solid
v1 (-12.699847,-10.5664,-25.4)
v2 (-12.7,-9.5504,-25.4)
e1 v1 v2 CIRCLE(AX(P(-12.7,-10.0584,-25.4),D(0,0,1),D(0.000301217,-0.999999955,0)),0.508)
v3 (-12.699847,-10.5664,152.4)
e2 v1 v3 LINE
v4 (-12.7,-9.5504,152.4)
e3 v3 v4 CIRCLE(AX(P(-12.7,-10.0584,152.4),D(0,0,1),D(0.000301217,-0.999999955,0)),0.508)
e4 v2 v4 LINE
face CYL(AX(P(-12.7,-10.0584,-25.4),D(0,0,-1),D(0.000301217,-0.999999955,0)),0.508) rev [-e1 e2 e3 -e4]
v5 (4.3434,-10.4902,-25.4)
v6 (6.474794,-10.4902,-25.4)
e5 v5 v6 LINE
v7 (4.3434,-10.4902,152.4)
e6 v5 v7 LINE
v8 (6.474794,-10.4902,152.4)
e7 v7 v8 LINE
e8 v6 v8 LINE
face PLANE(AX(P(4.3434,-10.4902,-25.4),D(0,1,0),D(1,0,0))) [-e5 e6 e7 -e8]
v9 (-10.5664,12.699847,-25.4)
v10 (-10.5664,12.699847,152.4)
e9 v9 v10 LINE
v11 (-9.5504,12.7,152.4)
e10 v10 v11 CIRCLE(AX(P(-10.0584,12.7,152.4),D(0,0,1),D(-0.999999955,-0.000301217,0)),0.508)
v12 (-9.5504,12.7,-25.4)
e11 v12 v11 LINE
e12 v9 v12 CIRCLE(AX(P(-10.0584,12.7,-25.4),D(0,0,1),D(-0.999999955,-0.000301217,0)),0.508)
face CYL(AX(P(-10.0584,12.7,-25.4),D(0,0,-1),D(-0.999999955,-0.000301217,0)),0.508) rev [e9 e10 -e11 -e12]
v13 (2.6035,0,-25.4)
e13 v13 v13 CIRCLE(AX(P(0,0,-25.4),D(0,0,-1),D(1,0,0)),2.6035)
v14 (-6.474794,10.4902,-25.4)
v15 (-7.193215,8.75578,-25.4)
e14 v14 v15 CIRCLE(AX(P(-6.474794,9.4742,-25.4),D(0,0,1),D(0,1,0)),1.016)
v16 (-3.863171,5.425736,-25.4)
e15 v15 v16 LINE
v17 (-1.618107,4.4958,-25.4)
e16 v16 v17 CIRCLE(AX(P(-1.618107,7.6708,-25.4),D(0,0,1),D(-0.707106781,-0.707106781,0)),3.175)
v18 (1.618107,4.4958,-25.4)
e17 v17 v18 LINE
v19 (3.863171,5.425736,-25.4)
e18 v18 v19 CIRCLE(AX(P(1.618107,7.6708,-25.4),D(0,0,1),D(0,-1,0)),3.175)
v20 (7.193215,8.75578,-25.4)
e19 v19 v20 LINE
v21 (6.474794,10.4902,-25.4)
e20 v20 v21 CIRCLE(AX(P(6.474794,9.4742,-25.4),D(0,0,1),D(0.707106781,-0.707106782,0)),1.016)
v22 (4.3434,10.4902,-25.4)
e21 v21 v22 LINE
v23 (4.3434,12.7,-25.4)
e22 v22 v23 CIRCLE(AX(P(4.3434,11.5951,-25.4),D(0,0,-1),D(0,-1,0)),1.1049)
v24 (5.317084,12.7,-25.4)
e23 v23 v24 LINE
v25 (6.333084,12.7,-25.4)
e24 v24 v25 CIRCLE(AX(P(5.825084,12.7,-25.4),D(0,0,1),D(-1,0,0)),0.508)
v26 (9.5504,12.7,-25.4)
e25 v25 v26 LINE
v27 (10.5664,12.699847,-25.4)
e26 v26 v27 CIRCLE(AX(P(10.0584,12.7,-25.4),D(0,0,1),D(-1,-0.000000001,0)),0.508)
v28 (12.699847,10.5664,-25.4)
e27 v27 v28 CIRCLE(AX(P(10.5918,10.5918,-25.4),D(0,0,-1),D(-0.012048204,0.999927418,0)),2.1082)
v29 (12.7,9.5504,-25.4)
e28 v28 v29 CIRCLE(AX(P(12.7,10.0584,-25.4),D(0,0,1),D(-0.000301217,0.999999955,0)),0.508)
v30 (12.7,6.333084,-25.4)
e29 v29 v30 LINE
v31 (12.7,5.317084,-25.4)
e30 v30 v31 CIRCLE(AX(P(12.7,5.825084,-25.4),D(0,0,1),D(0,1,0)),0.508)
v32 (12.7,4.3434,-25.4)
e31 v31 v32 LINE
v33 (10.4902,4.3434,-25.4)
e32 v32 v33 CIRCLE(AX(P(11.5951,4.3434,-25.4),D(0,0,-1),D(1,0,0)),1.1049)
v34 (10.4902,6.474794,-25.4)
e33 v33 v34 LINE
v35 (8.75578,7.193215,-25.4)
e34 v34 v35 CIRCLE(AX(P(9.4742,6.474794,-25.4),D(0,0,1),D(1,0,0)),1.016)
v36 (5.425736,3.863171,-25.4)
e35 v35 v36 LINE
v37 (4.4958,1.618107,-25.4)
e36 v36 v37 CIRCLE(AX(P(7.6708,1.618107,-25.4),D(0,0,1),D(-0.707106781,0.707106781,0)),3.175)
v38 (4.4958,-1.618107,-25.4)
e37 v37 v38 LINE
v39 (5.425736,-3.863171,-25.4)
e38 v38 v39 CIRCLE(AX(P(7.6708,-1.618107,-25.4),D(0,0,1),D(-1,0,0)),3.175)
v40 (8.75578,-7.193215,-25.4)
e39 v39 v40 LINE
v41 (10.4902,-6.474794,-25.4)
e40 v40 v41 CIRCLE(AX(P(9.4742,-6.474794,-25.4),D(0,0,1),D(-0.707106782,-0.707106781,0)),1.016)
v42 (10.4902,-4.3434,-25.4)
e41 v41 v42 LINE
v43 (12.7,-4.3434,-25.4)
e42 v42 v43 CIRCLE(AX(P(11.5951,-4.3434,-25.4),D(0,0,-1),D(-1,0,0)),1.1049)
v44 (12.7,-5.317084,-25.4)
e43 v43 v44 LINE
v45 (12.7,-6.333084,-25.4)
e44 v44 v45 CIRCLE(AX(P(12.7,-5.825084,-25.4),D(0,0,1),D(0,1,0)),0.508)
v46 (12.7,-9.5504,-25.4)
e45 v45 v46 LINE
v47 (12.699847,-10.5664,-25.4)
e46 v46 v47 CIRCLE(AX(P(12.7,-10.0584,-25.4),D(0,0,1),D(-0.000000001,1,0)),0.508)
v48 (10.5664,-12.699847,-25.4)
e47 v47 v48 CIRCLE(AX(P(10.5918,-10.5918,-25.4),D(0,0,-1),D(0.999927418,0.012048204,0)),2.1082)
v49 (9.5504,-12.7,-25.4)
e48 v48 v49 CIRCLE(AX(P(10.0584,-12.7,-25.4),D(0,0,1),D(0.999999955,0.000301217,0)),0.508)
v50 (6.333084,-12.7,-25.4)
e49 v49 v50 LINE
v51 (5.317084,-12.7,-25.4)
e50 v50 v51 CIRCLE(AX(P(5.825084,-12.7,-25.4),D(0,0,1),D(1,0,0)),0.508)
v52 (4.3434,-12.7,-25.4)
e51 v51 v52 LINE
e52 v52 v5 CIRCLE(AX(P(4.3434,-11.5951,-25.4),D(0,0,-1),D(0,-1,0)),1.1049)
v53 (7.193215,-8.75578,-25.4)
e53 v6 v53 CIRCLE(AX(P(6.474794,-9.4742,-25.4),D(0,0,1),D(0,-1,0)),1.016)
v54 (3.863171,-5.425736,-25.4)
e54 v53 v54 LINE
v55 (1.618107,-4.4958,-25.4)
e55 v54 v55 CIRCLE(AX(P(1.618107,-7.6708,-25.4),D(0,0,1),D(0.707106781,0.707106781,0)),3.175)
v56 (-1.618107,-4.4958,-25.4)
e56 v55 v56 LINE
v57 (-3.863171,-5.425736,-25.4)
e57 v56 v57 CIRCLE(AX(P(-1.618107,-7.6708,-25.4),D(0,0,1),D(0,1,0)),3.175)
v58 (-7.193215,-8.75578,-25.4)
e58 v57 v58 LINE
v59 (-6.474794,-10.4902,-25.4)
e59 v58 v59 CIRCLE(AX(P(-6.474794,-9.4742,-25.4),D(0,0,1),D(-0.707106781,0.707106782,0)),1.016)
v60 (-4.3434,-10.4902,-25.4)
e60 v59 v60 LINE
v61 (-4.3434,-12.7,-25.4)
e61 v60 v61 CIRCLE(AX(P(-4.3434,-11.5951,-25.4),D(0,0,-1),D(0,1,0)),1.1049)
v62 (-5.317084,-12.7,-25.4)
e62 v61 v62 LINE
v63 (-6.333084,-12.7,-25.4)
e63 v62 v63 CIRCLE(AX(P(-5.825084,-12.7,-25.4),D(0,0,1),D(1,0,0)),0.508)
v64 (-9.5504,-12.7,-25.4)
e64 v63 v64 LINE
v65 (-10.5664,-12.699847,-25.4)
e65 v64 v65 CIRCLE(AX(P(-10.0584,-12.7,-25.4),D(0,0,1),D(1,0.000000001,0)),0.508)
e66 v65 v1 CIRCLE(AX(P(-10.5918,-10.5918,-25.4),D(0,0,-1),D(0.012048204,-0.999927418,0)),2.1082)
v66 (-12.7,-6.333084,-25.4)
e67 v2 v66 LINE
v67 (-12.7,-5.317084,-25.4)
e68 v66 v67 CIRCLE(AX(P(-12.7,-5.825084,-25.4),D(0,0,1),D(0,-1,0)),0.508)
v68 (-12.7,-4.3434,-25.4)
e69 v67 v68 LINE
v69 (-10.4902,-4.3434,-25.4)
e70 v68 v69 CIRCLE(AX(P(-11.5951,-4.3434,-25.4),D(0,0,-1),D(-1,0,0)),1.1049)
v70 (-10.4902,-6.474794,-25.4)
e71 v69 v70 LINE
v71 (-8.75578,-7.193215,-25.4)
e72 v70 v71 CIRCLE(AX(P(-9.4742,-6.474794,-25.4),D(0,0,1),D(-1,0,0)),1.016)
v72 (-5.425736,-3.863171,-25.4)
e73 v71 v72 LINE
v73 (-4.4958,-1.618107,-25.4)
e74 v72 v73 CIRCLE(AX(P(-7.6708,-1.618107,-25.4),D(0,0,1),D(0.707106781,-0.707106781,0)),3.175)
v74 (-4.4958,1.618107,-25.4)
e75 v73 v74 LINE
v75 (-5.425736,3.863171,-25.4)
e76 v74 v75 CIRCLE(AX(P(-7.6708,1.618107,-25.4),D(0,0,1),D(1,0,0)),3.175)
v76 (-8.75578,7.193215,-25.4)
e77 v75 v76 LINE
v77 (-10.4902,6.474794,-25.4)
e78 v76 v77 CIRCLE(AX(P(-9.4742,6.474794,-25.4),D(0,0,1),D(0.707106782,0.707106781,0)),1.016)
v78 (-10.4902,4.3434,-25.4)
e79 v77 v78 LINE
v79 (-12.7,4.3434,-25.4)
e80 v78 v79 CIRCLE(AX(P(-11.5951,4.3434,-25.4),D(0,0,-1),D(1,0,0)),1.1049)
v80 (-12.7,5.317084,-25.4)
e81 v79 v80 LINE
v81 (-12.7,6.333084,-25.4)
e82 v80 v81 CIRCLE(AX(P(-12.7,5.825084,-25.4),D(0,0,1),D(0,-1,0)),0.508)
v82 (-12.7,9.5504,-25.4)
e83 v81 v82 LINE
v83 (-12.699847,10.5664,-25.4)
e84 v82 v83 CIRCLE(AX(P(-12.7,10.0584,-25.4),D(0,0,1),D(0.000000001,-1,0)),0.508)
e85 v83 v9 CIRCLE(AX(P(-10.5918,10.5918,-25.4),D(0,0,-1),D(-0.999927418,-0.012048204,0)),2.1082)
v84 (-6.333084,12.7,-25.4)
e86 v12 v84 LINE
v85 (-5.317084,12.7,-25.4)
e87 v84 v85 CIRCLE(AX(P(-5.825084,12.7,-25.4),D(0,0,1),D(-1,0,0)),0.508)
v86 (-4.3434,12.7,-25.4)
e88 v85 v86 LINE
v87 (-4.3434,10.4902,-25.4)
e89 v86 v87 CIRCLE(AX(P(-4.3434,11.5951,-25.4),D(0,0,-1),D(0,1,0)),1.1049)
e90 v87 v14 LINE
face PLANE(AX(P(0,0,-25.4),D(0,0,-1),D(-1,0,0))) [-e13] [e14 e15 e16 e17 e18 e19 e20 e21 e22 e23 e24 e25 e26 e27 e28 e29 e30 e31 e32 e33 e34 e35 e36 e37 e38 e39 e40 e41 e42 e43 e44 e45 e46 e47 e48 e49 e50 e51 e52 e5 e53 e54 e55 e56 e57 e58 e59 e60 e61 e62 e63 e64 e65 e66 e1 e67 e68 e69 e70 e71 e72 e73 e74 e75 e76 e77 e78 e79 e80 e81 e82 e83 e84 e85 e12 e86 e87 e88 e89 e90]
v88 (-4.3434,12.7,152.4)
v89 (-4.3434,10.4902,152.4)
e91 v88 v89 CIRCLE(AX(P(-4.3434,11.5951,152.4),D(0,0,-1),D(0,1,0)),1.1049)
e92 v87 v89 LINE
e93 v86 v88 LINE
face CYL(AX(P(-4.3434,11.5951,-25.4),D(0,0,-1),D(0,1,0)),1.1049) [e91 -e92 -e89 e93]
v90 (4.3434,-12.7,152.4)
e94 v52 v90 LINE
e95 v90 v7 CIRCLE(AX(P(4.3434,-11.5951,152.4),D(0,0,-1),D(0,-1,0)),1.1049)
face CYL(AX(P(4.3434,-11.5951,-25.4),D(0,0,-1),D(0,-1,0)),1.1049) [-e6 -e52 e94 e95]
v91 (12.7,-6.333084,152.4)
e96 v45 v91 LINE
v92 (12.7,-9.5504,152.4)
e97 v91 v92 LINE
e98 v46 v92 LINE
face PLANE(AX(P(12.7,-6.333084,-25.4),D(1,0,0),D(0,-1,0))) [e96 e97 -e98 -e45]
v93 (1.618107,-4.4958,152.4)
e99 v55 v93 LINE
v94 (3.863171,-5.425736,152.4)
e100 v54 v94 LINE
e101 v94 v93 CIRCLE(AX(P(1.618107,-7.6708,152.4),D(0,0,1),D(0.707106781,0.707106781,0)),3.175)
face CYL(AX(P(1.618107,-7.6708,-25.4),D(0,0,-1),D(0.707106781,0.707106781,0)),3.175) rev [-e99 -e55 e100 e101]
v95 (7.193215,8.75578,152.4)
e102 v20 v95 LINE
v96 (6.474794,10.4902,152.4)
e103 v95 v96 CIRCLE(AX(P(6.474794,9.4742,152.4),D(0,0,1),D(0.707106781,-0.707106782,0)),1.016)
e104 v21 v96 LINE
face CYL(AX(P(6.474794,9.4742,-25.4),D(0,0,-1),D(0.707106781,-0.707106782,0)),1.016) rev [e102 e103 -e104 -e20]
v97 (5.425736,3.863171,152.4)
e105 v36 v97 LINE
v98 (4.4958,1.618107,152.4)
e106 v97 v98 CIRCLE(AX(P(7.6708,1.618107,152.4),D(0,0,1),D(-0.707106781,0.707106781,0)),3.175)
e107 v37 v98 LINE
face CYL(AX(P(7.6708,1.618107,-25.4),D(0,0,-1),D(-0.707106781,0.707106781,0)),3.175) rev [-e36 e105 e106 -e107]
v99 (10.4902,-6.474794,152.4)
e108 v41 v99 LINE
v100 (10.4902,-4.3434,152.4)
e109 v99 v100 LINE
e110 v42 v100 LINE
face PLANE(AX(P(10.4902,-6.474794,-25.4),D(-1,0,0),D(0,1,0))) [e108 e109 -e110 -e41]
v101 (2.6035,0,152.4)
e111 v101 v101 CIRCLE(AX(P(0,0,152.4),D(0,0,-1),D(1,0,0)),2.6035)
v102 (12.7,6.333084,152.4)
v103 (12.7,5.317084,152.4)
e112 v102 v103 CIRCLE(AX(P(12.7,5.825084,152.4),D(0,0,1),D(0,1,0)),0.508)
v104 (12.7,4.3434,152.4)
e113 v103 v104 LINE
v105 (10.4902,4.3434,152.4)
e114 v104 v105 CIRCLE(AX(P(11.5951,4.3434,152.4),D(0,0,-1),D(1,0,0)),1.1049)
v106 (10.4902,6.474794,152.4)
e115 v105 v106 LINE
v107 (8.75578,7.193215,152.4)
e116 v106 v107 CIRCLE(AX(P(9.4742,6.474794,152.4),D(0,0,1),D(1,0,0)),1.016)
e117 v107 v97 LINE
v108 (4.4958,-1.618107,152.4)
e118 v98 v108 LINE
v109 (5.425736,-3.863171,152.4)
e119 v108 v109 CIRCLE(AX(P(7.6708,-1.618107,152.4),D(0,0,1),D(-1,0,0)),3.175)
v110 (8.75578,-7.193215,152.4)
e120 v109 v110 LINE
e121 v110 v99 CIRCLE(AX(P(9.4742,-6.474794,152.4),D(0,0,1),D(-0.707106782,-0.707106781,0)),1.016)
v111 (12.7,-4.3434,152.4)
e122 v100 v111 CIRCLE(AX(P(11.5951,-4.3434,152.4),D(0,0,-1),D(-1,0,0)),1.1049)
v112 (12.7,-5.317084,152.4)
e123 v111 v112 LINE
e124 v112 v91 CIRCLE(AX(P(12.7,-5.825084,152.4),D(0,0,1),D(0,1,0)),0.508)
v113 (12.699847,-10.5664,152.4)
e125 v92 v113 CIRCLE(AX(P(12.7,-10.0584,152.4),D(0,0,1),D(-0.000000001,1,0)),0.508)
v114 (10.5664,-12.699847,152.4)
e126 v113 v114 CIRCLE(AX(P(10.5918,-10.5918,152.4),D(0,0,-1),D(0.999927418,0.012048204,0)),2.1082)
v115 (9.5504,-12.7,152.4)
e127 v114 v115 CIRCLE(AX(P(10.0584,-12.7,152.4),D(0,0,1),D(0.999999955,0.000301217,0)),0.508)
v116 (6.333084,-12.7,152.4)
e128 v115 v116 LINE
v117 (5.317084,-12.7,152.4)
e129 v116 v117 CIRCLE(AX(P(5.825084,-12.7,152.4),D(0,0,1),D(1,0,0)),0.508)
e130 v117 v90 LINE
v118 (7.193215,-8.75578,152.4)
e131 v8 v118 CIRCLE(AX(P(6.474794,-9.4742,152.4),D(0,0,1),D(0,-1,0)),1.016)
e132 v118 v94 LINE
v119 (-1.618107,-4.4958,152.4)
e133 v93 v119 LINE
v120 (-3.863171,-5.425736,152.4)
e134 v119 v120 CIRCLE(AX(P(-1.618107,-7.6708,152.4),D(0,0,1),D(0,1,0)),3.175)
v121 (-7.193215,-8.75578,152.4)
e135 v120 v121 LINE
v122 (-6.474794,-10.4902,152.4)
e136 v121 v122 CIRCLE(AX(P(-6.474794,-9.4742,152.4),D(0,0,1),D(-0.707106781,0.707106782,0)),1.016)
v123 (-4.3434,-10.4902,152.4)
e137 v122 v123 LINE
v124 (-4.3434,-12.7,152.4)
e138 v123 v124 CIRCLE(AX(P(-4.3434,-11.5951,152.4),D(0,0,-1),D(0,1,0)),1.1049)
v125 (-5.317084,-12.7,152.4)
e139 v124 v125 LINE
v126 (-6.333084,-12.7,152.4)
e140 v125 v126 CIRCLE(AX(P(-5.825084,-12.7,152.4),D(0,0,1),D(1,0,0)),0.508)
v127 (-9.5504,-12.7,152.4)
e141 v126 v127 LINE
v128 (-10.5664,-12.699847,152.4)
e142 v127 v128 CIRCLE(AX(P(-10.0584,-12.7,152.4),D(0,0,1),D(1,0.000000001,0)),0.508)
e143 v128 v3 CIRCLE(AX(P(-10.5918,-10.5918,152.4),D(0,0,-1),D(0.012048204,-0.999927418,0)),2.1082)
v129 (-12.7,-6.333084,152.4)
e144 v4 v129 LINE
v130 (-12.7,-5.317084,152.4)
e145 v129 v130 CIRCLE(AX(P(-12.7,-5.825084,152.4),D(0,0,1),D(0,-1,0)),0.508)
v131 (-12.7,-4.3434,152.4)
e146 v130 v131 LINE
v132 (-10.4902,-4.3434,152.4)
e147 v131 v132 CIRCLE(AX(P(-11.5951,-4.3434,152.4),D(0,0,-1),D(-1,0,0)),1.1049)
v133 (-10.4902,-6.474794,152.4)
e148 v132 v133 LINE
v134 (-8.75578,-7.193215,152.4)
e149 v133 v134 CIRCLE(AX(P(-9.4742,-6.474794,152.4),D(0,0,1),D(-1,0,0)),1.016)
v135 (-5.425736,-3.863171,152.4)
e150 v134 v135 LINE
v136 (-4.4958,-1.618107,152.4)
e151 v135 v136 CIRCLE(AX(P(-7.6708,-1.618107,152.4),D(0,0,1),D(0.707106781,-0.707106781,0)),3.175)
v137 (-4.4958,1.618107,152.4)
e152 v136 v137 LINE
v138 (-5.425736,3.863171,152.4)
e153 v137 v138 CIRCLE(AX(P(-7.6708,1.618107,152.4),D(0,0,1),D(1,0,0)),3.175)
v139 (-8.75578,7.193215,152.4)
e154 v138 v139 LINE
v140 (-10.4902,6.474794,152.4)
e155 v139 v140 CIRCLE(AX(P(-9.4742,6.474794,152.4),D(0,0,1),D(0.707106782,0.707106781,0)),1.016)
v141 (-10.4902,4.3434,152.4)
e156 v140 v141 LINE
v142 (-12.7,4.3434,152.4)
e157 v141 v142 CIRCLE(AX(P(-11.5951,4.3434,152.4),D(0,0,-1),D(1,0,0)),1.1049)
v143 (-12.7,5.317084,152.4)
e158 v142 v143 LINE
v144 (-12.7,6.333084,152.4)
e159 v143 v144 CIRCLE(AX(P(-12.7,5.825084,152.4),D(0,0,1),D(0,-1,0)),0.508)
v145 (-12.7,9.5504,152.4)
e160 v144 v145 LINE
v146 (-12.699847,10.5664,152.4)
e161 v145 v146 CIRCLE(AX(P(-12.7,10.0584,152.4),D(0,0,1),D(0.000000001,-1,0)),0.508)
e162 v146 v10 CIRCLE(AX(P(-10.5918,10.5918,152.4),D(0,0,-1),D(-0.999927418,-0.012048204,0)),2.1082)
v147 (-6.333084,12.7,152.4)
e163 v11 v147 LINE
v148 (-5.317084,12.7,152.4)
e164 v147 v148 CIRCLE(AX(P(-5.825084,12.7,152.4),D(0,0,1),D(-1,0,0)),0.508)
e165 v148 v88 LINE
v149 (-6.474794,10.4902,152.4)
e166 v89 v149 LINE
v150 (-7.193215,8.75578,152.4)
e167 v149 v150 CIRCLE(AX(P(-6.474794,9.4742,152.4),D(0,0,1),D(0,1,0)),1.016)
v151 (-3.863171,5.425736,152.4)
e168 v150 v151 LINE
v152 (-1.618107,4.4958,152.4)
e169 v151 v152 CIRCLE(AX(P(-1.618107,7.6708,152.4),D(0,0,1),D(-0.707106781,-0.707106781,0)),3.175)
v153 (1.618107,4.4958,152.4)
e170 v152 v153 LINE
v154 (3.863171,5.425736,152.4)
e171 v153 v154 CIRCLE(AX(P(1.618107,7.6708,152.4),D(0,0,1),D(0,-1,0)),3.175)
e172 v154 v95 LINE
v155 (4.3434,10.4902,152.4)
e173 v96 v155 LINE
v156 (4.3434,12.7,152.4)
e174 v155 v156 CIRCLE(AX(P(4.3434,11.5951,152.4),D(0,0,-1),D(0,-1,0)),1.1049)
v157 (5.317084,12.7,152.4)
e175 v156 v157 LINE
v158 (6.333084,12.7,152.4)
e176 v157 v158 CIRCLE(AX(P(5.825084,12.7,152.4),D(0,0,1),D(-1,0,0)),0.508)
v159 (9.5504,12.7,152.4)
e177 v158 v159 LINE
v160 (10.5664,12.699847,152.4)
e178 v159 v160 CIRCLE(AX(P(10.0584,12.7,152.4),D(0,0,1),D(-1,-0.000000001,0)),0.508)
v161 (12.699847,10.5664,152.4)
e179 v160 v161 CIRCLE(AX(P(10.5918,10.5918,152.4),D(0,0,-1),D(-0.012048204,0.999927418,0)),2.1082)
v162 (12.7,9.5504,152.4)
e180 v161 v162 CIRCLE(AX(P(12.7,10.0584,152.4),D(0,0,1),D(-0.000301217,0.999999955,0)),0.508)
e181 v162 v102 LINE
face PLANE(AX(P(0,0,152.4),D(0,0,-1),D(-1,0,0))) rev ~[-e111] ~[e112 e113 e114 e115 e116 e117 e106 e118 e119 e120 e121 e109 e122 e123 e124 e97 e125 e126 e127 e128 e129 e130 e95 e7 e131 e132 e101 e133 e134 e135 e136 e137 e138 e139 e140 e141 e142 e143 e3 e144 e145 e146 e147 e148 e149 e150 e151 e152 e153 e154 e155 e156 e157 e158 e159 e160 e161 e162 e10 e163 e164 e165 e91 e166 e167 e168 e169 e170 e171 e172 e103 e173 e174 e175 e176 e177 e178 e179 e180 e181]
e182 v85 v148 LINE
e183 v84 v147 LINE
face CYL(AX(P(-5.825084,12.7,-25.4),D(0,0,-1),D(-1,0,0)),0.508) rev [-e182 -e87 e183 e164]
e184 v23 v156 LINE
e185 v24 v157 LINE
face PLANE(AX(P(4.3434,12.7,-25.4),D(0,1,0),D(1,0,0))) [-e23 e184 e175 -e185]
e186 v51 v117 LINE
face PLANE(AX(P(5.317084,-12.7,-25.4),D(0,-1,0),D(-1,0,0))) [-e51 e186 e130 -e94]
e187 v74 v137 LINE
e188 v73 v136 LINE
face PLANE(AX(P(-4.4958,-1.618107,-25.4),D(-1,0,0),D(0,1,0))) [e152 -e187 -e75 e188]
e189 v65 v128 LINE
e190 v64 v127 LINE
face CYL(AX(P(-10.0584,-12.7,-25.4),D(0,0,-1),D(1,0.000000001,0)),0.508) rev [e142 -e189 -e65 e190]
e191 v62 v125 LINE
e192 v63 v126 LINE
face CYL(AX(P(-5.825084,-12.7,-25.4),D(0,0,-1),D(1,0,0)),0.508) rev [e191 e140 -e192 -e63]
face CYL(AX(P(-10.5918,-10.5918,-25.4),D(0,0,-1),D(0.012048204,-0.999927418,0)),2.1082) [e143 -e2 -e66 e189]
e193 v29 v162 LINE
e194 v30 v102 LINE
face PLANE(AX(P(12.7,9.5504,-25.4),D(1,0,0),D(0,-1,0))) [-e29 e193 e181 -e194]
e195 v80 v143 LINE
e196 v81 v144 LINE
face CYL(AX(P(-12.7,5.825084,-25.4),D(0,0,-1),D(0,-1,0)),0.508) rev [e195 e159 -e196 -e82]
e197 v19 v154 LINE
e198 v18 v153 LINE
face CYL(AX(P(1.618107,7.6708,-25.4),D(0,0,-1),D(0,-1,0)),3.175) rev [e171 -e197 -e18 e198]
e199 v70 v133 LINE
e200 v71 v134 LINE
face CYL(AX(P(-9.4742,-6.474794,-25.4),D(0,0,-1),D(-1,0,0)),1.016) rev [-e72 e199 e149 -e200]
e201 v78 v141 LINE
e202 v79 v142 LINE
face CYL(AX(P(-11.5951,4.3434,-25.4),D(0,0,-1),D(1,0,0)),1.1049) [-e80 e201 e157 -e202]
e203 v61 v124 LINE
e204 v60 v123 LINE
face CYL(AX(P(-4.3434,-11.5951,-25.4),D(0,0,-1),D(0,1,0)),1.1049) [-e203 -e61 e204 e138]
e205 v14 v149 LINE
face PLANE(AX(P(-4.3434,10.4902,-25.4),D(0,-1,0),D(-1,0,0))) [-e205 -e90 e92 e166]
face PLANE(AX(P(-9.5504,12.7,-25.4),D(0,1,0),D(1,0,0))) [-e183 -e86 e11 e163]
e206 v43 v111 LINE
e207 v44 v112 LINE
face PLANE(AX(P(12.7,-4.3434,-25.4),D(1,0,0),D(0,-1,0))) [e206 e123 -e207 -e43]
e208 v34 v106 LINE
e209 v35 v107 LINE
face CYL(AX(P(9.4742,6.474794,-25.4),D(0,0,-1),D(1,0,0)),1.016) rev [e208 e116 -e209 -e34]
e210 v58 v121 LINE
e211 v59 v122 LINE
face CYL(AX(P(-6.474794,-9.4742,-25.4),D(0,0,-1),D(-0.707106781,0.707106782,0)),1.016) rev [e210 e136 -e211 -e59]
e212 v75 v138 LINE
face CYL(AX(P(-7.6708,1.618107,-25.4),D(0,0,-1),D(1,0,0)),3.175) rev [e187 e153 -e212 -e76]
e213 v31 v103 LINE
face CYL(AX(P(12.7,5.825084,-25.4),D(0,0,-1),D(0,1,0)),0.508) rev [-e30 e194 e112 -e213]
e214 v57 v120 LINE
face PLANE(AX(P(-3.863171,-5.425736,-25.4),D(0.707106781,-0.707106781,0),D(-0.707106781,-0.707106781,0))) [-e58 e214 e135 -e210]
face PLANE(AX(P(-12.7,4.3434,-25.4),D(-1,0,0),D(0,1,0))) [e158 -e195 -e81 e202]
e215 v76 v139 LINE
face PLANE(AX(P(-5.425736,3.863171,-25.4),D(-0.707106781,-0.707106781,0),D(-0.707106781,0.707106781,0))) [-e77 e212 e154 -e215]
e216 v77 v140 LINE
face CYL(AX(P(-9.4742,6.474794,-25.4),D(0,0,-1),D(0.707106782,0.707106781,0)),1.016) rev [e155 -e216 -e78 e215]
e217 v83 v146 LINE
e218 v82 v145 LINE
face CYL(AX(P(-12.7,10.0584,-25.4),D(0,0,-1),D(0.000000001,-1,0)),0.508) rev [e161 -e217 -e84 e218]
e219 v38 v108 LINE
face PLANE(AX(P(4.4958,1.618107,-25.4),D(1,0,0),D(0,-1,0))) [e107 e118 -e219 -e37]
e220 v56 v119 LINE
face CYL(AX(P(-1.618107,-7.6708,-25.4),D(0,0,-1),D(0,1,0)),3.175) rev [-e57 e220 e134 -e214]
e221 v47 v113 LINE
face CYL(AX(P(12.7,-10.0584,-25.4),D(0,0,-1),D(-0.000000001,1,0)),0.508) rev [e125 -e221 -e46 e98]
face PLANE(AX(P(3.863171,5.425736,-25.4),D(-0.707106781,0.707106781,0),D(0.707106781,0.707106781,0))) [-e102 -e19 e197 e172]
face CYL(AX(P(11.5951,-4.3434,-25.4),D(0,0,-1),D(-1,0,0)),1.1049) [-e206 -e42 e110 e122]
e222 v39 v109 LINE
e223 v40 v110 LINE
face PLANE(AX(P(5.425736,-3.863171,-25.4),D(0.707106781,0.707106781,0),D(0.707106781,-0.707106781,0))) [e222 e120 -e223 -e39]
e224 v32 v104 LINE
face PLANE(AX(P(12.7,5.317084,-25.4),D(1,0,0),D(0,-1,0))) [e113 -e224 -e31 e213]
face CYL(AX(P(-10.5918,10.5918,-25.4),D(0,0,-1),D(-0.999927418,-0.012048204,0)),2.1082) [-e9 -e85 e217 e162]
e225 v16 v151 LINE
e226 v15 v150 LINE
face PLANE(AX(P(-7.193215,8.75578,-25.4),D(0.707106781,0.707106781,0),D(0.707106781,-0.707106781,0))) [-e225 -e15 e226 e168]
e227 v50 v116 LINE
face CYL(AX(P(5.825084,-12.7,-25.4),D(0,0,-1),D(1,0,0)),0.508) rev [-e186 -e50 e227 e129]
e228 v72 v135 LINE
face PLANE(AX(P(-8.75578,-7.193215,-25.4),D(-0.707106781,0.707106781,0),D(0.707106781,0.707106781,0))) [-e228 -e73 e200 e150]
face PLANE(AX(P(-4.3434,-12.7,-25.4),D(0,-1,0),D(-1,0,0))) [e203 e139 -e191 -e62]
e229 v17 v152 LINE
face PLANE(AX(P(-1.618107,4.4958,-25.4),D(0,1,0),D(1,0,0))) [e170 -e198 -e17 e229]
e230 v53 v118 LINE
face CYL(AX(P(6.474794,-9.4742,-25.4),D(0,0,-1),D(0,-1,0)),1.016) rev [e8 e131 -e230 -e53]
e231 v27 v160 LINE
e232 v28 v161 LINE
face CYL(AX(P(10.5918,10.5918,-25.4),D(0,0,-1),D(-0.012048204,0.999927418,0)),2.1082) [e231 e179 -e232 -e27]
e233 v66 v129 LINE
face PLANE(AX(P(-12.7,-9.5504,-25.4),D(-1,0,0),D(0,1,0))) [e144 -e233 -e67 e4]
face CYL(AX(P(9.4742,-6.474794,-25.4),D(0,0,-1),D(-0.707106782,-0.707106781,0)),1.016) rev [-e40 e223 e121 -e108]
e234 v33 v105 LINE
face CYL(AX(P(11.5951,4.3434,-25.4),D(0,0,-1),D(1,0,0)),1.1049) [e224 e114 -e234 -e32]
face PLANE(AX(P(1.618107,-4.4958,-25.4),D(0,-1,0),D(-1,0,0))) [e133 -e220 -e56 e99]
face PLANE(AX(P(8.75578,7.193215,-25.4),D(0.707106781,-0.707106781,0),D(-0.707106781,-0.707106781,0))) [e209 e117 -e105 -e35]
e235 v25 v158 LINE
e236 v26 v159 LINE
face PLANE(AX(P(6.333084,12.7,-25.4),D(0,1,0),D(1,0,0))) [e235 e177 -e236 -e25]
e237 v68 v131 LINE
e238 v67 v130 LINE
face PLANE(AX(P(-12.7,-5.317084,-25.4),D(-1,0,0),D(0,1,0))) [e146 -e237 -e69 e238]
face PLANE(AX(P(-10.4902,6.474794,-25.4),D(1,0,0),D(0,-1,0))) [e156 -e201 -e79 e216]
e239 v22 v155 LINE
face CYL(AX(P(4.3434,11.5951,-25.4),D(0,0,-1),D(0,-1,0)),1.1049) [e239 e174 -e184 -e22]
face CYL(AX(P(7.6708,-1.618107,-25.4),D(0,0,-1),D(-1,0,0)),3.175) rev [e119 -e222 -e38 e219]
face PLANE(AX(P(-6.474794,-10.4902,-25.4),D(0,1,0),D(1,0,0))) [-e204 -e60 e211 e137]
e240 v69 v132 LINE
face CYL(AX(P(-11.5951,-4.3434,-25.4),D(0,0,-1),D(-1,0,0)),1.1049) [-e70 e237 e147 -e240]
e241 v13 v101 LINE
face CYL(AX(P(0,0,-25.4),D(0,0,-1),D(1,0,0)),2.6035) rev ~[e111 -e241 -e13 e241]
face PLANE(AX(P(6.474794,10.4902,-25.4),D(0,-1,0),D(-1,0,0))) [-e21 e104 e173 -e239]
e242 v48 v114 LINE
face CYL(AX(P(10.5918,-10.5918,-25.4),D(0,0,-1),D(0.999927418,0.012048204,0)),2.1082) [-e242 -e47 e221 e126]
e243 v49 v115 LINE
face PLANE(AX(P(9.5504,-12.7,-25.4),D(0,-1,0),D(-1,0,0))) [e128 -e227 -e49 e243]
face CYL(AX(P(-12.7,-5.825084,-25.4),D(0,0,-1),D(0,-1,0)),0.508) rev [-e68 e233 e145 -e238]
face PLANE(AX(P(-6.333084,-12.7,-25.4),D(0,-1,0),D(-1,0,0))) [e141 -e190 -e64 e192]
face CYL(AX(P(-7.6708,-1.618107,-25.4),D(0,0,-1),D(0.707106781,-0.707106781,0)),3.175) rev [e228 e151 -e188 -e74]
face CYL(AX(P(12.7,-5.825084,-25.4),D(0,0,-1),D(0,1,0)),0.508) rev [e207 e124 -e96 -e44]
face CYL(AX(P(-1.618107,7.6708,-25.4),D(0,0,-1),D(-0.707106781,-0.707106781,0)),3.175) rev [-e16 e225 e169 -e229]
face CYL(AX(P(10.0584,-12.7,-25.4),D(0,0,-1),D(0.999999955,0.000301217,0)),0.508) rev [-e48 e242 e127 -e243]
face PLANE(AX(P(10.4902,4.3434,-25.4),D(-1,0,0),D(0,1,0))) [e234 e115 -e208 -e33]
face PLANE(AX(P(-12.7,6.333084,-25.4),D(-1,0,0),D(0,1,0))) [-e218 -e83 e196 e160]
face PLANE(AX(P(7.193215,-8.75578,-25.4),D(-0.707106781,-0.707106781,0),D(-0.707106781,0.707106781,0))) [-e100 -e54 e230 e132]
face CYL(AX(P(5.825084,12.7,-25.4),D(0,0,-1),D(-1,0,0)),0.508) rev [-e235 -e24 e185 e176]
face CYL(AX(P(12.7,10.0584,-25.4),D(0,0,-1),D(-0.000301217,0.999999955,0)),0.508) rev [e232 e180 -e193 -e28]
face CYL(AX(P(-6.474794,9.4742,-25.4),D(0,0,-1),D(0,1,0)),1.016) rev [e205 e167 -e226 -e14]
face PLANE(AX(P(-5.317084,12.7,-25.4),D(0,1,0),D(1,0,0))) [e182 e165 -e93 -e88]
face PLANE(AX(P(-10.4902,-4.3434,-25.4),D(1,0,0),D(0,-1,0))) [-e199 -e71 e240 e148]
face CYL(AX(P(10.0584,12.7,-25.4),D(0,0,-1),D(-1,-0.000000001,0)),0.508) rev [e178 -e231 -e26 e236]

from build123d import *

# Parameters (mm, degrees)
SKETCH1_R           = 2.6035
BOSS_EXTRUDE1_DEPTH = 177.8


with BuildPart() as part:
    # Sketch1 → Boss-Extrude1 (new body)
    with BuildSketch(Plane(origin=(0, 0, -25.4), x_dir=(-1, 0, 0), z_dir=(0, 0, -1))):
        with BuildLine():
            Line((12.7, -9.5504), (12.7, -6.3330836))
            ThreePointArc((12.7, -6.3330836), (12.192, -5.8250836), (12.7, -5.3170836))
            Line((12.7, -5.3170836), (12.7, -4.3434))
            ThreePointArc((12.7, -4.3434), (11.5951, -3.2385), (10.4902, -4.3434))
            Line((10.4902, -4.3434), (10.4902, -6.474794456))
            ThreePointArc((10.4902, -6.474794456), (9.863006367, -7.413456061), (8.75577951, -7.193214945))
            Line((8.75577951, -7.193214945), (5.42573597, -3.863171405))
            ThreePointArc((5.42573597, -3.863171405), (4.737482484, -2.833127272), (4.4958, -1.618107374))
            Line((4.4958, -1.618107374), (4.4958, 1.618107374))
            ThreePointArc((4.4958, 1.618107374), (4.737482484, 2.833127272), (5.42573597, 3.863171405))
            Line((5.42573597, 3.863171405), (8.75577951, 7.193214945))
            ThreePointArc((8.75577951, 7.193214945), (9.863006367, 7.413456061), (10.4902, 6.474794456))
            Line((10.4902, 6.474794456), (10.4902, 4.343399971))
            ThreePointArc((10.4902, 4.343399971), (11.5951, 3.238499971), (12.7, 4.343399971))
            Line((12.7, 4.343399971), (12.7, 5.3170836))
            ThreePointArc((12.7, 5.3170836), (12.192, 5.8250836), (12.7, 6.3330836))
            Line((12.7, 6.3330836), (12.7, 9.5504))
            ThreePointArc((12.7, 9.5504), (12.192000006, 10.058323491), (12.699846982, 10.566399977))
            ThreePointArc((12.699846982, 10.566399977), (12.082522516, 12.082522516), (10.566399977, 12.699846982))
            ThreePointArc((10.566399977, 12.699846982), (10.058323491, 12.192000006), (9.5504, 12.7))
            Line((9.5504, 12.7), (6.3330836, 12.7))
            ThreePointArc((6.3330836, 12.7), (5.8250836, 12.192), (5.3170836, 12.7))
            Line((5.3170836, 12.7), (4.3434, 12.7))
            ThreePointArc((4.3434, 12.7), (3.2385, 11.5951), (4.3434, 10.4902))
            Line((4.3434, 10.4902), (6.474794456, 10.4902))
            ThreePointArc((6.474794456, 10.4902), (7.413456061, 9.863006367), (7.193214945, 8.75577951))
            Line((7.193214945, 8.75577951), (3.863171405, 5.42573597))
            ThreePointArc((3.863171405, 5.42573597), (2.833127272, 4.737482484), (1.618107374, 4.4958))
            Line((1.618107374, 4.4958), (-1.618107374, 4.4958))
            ThreePointArc((-1.618107374, 4.4958), (-2.833127272, 4.737482484), (-3.863171405, 5.42573597))
            Line((-3.863171405, 5.42573597), (-7.193214945, 8.75577951))
            ThreePointArc((-7.193214945, 8.75577951), (-7.413456061, 9.863006367), (-6.474794456, 10.4902))
            Line((-6.474794456, 10.4902), (-4.343399971, 10.4902))
            ThreePointArc((-4.343399971, 10.4902), (-3.238499971, 11.5951), (-4.343399971, 12.7))
            Line((-4.343399971, 12.7), (-5.3170836, 12.7))
            ThreePointArc((-5.3170836, 12.7), (-5.8250836, 12.192), (-6.3330836, 12.7))
            Line((-6.3330836, 12.7), (-9.5504, 12.7))
            ThreePointArc((-9.5504, 12.7), (-10.058323491, 12.192000006), (-10.566399977, 12.699846982))
            ThreePointArc((-10.566399977, 12.699846982), (-12.082522516, 12.082522516), (-12.699846982, 10.566399977))
            ThreePointArc((-12.699846982, 10.566399977), (-12.192000006, 10.058323491), (-12.7, 9.5504))
            Line((-12.7, 9.5504), (-12.7, 6.3330836))
            ThreePointArc((-12.7, 6.3330836), (-12.192, 5.8250836), (-12.7, 5.3170836))
            Line((-12.7, 5.3170836), (-12.7, 4.3434))
            ThreePointArc((-12.7, 4.3434), (-11.5951, 3.2385), (-10.4902, 4.3434))
            Line((-10.4902, 4.3434), (-10.4902, 6.474794456))
            ThreePointArc((-10.4902, 6.474794456), (-9.863006367, 7.413456061), (-8.75577951, 7.193214945))
            Line((-8.75577951, 7.193214945), (-5.42573597, 3.863171405))
            ThreePointArc((-5.42573597, 3.863171405), (-4.737482484, 2.833127272), (-4.4958, 1.618107374))
            Line((-4.4958, 1.618107374), (-4.4958, -1.618107374))
            ThreePointArc((-4.4958, -1.618107374), (-4.737482484, -2.833127272), (-5.42573597, -3.863171405))
            Line((-5.42573597, -3.863171405), (-8.75577951, -7.193214945))
            ThreePointArc((-8.75577951, -7.193214945), (-9.863006367, -7.413456061), (-10.4902, -6.474794456))
            Line((-10.4902, -6.474794456), (-10.4902, -4.343399971))
            ThreePointArc((-10.4902, -4.343399971), (-11.5951, -3.238499971), (-12.7, -4.343399971))
            Line((-12.7, -4.343399971), (-12.7, -5.3170836))
            ThreePointArc((-12.7, -5.3170836), (-12.192, -5.8250836), (-12.7, -6.3330836))
            Line((-12.7, -6.3330836), (-12.7, -9.5504))
            ThreePointArc((-12.7, -9.5504), (-12.192000006, -10.058323491), (-12.699846982, -10.566399977))
            ThreePointArc((-12.699846982, -10.566399977), (-12.082522516, -12.082522516), (-10.566399977, -12.699846982))
            ThreePointArc((-10.566399977, -12.699846982), (-10.058323491, -12.192000006), (-9.5504, -12.7))
            Line((-9.5504, -12.7), (-6.3330836, -12.7))
            ThreePointArc((-6.3330836, -12.7), (-5.8250836, -12.192), (-5.3170836, -12.7))
            Line((-5.3170836, -12.7), (-4.3434, -12.7))
            ThreePointArc((-4.3434, -12.7), (-3.2385, -11.5951), (-4.3434, -10.4902))
            Line((-4.3434, -10.4902), (-6.474794456, -10.4902))
            ThreePointArc((-6.474794456, -10.4902), (-7.413456061, -9.863006367), (-7.193214945, -8.75577951))
            Line((-7.193214945, -8.75577951), (-3.863171405, -5.42573597))
            ThreePointArc((-3.863171405, -5.42573597), (-2.833127272, -4.737482484), (-1.618107374, -4.4958))
            Line((-1.618107374, -4.4958), (1.618107374, -4.4958))
            ThreePointArc((1.618107374, -4.4958), (2.833127272, -4.737482484), (3.863171405, -5.42573597))
            Line((3.863171405, -5.42573597), (7.193214945, -8.75577951))
            ThreePointArc((7.193214945, -8.75577951), (7.413456061, -9.863006367), (6.474794456, -10.4902))
            Line((6.474794456, -10.4902), (4.343399971, -10.4902))
            ThreePointArc((4.343399971, -10.4902), (3.238499971, -11.5951), (4.343399971, -12.7))
            Line((4.343399971, -12.7), (5.3170836, -12.7))
            ThreePointArc((5.3170836, -12.7), (5.8250836, -12.192), (6.3330836, -12.7))
            Line((6.3330836, -12.7), (9.5504, -12.7))
            ThreePointArc((9.5504, -12.7), (10.058323491, -12.192000006), (10.566399977, -12.699846982))
            ThreePointArc((10.566399977, -12.699846982), (12.082522516, -12.082522516), (12.699846982, -10.566399977))
            ThreePointArc((12.699846982, -10.566399977), (12.192000006, -10.058323491), (12.7, -9.5504))
        make_face()
        with Locations(Location((0, 0, 0), (0, 0, 180))):
            Circle(SKETCH1_R, mode=Mode.SUBTRACT)
    extrude(amount=-BOSS_EXTRUDE1_DEPTH)


solid = part.part
